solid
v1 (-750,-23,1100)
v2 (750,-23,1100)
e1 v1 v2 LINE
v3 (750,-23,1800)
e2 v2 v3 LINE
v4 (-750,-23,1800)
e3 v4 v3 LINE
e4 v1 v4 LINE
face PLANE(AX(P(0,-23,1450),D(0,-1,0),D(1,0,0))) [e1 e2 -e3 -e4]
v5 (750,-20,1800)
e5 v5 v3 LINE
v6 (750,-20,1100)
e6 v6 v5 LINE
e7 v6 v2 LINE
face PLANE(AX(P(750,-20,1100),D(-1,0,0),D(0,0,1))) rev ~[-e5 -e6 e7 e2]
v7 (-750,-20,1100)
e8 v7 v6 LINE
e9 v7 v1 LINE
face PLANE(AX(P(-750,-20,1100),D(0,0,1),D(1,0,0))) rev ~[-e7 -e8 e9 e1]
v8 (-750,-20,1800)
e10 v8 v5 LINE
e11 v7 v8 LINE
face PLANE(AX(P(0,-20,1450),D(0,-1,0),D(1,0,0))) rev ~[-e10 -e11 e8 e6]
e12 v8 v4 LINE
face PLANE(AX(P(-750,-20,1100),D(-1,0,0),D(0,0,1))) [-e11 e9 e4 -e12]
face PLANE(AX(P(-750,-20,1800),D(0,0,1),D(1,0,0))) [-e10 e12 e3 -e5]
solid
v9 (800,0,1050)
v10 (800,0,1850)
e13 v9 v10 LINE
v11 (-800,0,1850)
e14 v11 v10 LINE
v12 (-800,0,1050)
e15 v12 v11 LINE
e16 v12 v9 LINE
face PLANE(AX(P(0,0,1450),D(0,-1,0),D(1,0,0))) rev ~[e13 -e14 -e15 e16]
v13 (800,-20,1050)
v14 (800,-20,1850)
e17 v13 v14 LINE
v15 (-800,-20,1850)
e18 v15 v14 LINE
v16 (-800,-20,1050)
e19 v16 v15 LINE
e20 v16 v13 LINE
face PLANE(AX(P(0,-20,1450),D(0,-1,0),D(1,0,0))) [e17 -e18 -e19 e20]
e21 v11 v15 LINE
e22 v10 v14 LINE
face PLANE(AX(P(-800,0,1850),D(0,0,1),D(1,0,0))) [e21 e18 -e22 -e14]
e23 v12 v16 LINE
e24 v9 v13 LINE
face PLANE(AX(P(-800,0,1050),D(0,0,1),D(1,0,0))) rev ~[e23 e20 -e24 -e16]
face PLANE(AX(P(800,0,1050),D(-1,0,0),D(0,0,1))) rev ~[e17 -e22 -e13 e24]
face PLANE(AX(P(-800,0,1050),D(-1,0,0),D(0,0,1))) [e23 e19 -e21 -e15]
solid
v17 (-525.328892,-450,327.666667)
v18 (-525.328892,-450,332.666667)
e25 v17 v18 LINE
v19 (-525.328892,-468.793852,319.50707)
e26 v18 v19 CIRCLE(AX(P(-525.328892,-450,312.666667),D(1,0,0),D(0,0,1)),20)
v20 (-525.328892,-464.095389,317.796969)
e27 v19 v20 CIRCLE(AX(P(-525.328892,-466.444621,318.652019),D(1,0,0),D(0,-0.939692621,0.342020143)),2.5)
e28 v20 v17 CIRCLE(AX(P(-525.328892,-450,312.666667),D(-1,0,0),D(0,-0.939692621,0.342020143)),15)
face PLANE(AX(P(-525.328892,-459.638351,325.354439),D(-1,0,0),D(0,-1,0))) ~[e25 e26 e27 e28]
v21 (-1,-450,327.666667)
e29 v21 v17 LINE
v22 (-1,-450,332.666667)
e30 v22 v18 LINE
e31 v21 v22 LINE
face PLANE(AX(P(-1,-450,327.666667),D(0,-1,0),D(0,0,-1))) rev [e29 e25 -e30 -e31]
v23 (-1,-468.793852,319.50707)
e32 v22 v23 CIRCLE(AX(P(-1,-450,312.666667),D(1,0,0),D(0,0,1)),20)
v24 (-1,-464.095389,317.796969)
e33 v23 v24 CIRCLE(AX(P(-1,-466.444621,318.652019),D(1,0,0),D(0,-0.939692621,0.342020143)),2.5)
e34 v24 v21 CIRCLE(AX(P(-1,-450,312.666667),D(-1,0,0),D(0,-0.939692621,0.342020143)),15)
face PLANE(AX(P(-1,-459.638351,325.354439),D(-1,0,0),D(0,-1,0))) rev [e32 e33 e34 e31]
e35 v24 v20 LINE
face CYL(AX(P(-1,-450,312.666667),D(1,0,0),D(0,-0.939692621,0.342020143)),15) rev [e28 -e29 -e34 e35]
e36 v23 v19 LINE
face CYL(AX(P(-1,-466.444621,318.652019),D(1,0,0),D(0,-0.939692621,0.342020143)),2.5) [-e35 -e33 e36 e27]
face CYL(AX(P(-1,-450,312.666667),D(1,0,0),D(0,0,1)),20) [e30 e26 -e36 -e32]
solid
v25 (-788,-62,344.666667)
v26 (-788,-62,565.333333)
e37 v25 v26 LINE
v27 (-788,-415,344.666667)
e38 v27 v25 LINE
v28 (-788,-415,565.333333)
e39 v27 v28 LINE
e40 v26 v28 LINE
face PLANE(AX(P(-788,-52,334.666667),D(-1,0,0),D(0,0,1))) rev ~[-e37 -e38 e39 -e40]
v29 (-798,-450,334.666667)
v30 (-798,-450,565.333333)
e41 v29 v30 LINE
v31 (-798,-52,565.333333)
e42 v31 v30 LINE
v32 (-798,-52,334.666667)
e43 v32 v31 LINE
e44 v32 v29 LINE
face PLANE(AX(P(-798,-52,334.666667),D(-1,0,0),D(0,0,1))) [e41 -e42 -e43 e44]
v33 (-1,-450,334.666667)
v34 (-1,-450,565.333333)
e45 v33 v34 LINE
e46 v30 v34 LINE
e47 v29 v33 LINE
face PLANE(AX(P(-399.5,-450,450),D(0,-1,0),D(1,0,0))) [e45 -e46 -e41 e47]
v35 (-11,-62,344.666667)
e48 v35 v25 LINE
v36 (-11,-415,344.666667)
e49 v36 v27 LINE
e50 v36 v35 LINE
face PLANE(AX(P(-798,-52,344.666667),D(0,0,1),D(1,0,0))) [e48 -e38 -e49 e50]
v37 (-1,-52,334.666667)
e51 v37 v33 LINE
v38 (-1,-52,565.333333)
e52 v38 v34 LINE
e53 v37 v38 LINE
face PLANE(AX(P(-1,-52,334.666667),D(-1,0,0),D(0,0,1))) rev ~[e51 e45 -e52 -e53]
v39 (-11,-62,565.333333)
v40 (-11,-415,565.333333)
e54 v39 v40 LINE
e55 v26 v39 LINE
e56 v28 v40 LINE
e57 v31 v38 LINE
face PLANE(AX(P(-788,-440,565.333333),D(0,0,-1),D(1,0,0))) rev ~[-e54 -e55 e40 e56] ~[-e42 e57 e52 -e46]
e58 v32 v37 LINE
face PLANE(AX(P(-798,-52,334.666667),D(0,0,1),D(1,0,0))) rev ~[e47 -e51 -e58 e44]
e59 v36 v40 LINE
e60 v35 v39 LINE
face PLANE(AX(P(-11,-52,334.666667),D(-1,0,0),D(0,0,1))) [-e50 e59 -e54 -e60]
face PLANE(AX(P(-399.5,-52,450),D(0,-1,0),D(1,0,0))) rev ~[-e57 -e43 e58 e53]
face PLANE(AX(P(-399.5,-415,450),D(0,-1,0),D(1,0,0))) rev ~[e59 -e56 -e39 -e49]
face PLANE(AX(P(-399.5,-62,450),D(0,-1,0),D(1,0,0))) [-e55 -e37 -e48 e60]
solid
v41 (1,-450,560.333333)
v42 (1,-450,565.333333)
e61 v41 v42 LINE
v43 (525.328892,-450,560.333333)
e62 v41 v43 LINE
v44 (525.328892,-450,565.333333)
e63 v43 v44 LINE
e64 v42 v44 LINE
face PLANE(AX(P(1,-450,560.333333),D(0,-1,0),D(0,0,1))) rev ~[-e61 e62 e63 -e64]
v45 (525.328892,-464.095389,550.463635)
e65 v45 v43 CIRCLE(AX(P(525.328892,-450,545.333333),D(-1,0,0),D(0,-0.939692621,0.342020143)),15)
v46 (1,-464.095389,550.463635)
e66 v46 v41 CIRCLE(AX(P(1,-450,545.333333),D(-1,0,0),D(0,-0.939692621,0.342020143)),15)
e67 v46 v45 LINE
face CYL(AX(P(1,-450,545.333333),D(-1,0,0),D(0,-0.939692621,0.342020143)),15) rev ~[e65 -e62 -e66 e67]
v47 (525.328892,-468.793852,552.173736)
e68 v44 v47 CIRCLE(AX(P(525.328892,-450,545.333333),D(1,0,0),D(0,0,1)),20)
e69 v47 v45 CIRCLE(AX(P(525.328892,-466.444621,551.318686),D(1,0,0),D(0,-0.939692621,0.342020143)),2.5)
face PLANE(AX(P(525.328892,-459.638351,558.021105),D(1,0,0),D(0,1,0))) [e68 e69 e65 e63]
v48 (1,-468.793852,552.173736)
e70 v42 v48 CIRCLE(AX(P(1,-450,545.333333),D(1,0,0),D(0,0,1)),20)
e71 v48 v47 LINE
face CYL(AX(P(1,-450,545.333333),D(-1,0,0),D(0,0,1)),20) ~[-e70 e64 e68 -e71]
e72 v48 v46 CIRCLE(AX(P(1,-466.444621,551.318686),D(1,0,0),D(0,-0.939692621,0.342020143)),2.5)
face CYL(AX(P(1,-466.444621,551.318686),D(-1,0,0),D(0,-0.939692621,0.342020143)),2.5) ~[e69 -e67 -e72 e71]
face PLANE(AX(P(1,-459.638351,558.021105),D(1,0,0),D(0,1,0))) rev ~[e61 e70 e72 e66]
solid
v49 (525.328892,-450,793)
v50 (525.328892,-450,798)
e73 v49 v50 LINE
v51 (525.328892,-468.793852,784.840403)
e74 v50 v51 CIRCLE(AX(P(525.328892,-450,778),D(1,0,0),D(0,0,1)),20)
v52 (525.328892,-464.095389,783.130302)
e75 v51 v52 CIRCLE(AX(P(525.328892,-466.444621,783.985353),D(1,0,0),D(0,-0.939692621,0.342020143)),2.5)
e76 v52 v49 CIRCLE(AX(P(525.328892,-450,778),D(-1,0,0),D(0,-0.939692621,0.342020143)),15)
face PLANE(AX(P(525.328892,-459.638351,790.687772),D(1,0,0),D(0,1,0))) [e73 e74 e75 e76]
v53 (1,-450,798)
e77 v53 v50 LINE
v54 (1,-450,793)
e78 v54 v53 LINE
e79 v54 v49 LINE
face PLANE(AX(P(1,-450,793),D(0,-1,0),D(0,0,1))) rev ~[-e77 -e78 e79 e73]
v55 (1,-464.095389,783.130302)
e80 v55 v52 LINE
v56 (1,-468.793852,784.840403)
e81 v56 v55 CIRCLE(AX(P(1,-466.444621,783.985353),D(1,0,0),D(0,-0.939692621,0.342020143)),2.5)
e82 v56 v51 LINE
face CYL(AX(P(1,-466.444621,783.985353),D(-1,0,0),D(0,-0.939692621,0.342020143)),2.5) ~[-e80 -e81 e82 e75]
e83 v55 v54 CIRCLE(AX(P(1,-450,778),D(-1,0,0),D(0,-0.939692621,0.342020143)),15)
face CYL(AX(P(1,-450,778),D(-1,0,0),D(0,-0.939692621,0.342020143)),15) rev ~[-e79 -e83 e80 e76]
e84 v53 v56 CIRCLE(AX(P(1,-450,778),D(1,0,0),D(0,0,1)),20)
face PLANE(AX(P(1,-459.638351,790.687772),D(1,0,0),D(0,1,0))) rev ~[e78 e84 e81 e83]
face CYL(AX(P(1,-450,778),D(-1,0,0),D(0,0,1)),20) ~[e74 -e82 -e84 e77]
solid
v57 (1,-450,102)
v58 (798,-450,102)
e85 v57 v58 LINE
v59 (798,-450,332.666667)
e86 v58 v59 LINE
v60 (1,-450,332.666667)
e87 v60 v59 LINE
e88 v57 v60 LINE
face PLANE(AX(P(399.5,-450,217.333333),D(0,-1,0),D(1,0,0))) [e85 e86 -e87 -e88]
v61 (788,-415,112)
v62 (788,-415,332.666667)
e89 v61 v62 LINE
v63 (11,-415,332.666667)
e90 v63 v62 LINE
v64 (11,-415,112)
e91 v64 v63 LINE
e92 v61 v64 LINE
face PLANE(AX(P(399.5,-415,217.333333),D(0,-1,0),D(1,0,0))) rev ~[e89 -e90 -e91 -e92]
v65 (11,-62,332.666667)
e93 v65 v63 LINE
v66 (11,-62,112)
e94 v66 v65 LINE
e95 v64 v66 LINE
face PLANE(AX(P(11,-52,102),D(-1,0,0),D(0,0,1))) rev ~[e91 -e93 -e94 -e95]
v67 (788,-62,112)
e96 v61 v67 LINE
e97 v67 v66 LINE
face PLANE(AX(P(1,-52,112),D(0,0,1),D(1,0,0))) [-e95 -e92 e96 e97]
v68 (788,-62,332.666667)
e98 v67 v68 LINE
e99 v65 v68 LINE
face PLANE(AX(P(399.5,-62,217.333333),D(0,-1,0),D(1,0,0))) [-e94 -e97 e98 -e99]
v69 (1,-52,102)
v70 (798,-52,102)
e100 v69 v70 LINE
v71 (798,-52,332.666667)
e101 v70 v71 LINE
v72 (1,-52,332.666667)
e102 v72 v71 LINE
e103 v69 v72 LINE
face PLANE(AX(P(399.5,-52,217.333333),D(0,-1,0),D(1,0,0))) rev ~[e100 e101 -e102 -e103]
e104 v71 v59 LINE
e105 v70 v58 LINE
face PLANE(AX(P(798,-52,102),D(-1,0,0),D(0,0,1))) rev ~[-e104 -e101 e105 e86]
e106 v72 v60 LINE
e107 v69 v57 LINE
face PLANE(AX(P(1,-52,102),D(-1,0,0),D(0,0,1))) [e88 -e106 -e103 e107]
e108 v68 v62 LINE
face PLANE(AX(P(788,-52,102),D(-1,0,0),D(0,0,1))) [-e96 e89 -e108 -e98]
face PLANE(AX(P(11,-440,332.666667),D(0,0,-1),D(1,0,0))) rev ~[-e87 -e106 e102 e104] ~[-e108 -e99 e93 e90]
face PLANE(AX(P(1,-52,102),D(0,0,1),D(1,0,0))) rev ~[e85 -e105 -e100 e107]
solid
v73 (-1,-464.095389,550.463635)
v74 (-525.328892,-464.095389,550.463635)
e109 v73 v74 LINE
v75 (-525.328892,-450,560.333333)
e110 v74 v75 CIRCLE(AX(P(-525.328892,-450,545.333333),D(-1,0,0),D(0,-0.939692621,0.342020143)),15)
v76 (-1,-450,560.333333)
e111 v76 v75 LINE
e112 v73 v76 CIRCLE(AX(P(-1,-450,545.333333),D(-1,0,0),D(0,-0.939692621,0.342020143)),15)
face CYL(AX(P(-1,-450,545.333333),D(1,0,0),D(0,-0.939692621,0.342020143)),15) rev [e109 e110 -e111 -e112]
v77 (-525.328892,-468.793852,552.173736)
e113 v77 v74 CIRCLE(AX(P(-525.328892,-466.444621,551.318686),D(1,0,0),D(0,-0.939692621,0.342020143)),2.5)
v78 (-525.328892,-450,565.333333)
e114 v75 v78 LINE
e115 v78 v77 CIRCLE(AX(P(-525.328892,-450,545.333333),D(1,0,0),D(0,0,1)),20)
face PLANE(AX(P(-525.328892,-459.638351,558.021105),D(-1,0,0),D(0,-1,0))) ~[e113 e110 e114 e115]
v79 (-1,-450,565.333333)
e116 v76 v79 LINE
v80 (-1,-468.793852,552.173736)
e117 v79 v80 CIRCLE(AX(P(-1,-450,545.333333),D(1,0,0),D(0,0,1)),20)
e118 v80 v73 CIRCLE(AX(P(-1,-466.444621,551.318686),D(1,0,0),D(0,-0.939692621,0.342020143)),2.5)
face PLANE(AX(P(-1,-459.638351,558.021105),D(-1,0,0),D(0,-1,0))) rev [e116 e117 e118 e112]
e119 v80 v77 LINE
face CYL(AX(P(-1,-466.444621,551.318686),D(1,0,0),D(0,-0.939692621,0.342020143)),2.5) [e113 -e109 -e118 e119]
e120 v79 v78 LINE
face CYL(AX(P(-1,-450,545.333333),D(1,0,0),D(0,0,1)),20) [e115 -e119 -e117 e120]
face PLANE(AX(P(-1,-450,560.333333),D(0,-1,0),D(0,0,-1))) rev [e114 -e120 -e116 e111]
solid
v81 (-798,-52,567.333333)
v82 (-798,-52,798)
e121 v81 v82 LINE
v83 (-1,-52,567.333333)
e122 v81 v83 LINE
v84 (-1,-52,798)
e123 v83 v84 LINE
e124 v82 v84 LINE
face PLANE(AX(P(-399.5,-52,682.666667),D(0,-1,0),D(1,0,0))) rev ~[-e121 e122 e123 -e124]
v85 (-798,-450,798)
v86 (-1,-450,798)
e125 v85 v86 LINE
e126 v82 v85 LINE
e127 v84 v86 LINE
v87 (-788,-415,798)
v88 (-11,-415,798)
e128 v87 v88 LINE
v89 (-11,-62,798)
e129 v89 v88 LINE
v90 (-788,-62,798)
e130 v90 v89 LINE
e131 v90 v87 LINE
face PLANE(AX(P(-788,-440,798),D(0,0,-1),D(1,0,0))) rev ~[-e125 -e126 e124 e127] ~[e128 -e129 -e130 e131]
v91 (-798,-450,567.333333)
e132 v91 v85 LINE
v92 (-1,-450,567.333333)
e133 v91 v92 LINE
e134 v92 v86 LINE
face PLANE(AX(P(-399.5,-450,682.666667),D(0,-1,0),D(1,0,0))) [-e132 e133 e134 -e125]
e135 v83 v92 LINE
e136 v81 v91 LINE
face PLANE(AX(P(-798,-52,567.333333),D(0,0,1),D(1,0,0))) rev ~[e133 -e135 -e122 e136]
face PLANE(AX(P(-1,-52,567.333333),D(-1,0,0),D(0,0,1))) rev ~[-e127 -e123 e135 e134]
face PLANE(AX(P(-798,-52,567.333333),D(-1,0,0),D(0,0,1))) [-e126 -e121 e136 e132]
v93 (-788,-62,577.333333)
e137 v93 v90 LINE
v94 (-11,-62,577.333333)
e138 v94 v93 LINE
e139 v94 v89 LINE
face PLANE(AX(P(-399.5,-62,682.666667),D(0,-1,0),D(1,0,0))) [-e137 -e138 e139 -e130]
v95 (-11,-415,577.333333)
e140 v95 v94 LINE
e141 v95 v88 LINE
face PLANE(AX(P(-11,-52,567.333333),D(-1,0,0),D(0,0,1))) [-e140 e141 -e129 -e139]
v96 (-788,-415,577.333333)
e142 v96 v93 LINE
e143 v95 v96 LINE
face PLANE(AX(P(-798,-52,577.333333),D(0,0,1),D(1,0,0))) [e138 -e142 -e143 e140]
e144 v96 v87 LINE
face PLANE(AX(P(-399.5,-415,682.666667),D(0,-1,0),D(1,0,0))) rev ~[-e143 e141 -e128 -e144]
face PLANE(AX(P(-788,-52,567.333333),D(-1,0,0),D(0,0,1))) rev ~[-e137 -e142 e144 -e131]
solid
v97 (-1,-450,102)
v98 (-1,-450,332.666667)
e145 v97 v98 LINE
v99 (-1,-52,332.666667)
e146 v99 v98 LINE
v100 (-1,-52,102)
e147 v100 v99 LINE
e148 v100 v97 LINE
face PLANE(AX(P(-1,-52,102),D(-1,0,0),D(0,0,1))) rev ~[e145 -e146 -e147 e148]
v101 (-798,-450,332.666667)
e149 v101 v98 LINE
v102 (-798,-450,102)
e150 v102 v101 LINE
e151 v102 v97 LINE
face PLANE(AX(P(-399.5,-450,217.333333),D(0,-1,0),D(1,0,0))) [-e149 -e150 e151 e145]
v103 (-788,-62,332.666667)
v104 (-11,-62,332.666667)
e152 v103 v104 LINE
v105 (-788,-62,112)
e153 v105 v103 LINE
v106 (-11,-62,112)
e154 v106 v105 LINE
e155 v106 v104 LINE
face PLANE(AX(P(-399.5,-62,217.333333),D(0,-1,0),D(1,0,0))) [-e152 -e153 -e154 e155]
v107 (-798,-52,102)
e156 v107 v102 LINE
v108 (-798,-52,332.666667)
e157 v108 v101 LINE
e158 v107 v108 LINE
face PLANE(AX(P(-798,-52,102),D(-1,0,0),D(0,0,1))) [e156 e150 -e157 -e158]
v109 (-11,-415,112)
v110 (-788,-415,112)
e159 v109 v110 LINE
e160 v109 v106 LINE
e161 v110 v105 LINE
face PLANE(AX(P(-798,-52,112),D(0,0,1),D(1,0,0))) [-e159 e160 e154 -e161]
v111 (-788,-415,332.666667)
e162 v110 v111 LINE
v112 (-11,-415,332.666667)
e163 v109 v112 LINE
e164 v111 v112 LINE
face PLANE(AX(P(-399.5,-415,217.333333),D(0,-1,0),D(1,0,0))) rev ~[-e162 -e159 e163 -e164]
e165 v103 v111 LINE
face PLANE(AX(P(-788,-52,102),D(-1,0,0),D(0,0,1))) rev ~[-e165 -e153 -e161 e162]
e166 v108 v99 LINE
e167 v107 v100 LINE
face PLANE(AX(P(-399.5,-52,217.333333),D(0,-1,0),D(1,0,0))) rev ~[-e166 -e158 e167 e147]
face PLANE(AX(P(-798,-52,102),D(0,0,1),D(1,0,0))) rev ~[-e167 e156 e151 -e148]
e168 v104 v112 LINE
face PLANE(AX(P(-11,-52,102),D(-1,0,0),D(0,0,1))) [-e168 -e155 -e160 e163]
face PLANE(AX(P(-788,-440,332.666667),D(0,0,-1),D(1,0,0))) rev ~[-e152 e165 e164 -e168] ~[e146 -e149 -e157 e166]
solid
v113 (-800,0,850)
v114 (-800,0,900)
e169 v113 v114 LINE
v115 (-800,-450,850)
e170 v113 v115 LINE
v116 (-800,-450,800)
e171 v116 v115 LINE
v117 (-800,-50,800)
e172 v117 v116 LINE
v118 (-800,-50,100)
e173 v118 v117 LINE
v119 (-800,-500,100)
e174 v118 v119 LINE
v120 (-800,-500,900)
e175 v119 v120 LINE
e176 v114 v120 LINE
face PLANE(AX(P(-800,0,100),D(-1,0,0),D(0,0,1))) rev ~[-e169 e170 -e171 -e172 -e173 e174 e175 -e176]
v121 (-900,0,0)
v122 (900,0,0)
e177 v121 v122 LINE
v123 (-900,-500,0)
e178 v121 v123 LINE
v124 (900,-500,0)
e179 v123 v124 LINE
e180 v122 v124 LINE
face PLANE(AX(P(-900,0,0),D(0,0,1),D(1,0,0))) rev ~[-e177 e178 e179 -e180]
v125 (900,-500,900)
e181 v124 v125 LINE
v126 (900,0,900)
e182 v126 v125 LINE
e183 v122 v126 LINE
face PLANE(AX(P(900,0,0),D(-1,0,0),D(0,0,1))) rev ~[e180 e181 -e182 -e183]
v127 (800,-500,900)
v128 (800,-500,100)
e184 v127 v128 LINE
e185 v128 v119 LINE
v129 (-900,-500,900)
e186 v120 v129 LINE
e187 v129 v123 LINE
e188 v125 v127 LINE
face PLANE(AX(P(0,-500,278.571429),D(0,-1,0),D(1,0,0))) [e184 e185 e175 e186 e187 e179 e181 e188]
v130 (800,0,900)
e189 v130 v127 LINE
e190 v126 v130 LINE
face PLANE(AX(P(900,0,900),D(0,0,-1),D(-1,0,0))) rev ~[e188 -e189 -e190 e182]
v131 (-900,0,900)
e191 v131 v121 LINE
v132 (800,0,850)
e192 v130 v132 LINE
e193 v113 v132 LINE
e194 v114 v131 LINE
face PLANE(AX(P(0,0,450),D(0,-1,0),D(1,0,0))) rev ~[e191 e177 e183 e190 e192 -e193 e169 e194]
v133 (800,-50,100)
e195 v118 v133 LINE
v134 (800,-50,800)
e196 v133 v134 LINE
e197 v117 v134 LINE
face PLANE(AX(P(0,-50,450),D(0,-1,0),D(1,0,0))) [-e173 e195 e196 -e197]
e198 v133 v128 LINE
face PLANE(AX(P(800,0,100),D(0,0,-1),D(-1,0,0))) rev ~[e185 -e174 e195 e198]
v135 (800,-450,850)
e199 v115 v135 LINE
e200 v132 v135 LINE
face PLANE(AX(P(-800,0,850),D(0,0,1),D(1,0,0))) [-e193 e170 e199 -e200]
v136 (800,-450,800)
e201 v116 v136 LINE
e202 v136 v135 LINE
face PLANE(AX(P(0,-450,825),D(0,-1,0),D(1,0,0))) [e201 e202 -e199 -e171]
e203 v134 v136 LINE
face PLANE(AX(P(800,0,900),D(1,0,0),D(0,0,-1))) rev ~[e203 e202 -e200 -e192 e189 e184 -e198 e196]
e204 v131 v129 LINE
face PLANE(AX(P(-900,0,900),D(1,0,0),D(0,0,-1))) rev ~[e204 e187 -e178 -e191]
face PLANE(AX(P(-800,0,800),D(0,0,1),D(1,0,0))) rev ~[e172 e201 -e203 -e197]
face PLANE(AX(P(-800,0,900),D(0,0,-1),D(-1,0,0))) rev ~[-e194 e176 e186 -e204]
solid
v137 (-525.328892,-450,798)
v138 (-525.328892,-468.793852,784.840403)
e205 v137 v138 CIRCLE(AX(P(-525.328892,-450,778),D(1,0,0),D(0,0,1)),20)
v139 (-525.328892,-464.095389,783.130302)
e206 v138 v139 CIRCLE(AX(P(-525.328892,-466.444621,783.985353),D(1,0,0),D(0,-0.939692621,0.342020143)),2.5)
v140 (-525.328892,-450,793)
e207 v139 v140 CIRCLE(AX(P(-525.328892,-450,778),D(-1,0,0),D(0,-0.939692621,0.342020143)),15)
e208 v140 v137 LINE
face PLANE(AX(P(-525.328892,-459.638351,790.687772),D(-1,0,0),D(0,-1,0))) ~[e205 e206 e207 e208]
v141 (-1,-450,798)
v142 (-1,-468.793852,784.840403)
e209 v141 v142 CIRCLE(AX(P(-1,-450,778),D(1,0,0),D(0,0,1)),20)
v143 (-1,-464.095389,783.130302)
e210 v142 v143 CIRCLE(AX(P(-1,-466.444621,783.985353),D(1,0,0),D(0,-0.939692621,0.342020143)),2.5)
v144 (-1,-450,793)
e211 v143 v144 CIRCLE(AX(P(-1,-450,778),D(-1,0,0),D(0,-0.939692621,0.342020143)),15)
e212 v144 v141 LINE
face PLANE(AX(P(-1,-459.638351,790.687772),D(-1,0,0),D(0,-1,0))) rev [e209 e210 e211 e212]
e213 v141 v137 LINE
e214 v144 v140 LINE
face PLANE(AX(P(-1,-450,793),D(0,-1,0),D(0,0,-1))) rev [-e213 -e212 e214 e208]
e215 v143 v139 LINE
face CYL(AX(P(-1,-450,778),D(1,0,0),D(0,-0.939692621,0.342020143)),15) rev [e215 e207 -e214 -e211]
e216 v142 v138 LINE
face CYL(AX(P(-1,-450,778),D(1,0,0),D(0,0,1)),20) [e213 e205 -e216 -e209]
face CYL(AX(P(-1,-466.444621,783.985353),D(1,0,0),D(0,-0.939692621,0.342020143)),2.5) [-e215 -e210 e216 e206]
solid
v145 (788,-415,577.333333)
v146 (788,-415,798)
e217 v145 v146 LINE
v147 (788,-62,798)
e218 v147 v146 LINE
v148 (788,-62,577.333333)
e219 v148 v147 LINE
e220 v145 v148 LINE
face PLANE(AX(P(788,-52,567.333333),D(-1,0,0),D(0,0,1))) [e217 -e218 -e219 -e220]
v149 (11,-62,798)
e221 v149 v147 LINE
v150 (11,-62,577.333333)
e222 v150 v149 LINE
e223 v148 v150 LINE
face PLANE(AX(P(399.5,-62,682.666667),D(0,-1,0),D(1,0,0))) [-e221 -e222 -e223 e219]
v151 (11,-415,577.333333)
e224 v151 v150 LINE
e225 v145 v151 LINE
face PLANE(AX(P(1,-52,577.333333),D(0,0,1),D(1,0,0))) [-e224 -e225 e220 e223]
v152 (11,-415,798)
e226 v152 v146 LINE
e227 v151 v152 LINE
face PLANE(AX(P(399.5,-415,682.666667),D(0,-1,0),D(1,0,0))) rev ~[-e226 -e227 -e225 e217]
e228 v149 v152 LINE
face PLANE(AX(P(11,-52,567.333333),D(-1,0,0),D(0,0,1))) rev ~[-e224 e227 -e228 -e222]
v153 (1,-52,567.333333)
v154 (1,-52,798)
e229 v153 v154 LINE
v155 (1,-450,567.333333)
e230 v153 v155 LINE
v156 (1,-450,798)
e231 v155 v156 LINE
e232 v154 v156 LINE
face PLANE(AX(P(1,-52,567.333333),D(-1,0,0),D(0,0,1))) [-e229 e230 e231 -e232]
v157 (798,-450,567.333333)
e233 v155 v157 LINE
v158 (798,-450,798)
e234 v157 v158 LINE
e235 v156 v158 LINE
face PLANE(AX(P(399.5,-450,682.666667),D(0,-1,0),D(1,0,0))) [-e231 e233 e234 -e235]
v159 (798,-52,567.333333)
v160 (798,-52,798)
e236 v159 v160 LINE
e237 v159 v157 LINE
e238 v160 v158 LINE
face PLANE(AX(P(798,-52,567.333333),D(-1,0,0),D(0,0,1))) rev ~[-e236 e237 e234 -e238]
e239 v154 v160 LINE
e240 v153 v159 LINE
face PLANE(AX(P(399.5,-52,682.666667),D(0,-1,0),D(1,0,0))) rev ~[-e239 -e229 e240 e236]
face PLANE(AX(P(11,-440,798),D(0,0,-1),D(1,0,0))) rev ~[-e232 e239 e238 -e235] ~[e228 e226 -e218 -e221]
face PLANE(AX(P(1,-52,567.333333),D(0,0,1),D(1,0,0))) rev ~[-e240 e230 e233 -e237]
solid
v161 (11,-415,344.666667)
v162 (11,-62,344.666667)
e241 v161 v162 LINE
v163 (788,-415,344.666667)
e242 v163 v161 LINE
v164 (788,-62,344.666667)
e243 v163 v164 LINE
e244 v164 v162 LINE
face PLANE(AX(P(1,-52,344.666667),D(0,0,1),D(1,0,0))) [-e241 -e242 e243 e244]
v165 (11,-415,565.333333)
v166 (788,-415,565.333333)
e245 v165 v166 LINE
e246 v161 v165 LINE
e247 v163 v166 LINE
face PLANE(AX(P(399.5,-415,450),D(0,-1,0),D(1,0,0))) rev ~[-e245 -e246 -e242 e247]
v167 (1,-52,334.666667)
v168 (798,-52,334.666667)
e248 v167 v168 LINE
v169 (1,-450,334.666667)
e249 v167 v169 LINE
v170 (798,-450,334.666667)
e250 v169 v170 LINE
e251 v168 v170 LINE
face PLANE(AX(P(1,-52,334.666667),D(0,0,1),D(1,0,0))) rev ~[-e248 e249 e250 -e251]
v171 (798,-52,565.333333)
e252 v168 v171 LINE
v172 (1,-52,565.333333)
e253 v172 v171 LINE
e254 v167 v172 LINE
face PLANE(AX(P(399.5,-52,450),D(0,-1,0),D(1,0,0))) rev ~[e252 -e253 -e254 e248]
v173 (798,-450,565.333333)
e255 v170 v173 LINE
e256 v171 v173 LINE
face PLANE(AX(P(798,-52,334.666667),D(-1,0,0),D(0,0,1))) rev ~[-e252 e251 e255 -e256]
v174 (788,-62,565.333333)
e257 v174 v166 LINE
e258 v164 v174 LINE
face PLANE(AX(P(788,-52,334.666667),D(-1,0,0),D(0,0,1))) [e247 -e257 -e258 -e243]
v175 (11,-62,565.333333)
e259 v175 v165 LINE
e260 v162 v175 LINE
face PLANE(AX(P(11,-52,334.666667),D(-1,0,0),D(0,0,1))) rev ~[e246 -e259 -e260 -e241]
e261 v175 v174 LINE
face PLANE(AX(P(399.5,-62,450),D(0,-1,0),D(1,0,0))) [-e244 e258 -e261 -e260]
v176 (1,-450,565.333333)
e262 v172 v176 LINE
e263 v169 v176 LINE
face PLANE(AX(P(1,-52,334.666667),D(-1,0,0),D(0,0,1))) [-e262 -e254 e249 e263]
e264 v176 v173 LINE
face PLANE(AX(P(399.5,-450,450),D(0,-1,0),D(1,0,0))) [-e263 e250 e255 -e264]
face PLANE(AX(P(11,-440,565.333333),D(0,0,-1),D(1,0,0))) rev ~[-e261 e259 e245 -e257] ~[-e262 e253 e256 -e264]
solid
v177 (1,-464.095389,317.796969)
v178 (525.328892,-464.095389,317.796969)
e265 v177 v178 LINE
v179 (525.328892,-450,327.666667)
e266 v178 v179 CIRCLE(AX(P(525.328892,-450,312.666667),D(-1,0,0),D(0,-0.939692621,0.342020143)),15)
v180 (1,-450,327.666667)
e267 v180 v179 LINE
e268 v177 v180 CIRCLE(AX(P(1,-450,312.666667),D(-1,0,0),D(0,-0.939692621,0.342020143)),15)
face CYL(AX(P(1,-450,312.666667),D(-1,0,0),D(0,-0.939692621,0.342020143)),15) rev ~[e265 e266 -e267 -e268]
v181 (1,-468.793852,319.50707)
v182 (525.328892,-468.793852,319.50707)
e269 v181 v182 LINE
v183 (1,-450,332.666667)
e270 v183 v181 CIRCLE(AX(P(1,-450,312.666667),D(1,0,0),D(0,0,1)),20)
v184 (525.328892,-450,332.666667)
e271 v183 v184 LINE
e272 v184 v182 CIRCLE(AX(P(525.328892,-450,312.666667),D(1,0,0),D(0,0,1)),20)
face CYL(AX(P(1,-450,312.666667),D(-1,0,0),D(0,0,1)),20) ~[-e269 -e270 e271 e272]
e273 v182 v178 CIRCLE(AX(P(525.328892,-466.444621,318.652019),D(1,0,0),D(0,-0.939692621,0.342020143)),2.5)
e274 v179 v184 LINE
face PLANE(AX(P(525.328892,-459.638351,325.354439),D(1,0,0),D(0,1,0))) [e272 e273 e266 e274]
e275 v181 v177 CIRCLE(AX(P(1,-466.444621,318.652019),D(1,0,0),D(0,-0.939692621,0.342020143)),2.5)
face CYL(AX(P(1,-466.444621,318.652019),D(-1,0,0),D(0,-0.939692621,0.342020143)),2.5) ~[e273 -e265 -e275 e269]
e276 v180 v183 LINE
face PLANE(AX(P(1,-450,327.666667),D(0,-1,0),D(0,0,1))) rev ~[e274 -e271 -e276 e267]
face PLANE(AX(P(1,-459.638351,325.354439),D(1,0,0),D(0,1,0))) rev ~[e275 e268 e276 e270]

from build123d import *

# Parameters (mm, degrees)
F9_DEPTH  = 500
F8_W      = 1600
F8_H      = 50
F10_DEPTH = 450
F8_H_2    = 700
F8_W_2    = 797
F8_H_3    = 230.6666666667
F11_DEPTH = 50
F12_START = 52
F12_DEPTH = 398
F13_T     = -10
F13_2_T   = -10
F13_3_T   = -10
F13_4_T   = -10
F13_5_T   = -10
F13_6_T   = -10
F14_DEPTH = 25
F16_START = 1
F16_DEPTH = 524.3288918326
F8_H_4    = 800
F8_W_3    = 1500
F18_DEPTH = 20
F19_START = 20
F19_DEPTH = 3


with BuildPart() as f9:
    # F8 (on Front) → F9 (new body)
    with BuildSketch(Plane.XZ):
        Polygon((-900, 900), (-900, 0), (900, 0), (900, 900), (800, 900), (800, 850), (800, 800), (800, 100), (-800, 100), (-800, 800), (-800, 850), (-800, 900), align=None)
    extrude(amount=F9_DEPTH)

    # F8 (on Front) → F10 (join)
    with BuildSketch(Plane.XZ):
        with Locations((0, 825)):
            Rectangle(F8_W, F8_H)
    extrude(amount=F10_DEPTH)

    # F8 (on Front) → F11 (join)
    with BuildSketch(Plane.XZ):
        with Locations((0, 450)):
            Rectangle(F8_W, F8_H_2)
        with Locations((-399.5, 217.3333333333)):
            Rectangle(F8_W_2, F8_H_3, mode=Mode.SUBTRACT)
        with Locations((-399.5, 450)):
            Rectangle(F8_W_2, F8_H_3, mode=Mode.SUBTRACT)
        with Locations((-399.5, 682.6666666667)):
            Rectangle(F8_W_2, F8_H_3, mode=Mode.SUBTRACT)
        with Locations((399.5, 217.3333333333)):
            Rectangle(F8_W_2, F8_H_3, mode=Mode.SUBTRACT)
        with Locations((399.5, 450)):
            Rectangle(F8_W_2, F8_H_3, mode=Mode.SUBTRACT)
        with Locations((399.5, 682.6666666667)):
            Rectangle(F8_W_2, F8_H_3, mode=Mode.SUBTRACT)
        with Locations((-399.5, 682.6666666667)):
            Rectangle(F8_W_2, F8_H_3)
        with Locations((-399.5, 450)):
            Rectangle(F8_W_2, F8_H_3)
        with Locations((-399.5, 217.3333333333)):
            Rectangle(F8_W_2, F8_H_3)
        with Locations((399.5, 682.6666666667)):
            Rectangle(F8_W_2, F8_H_3)
        with Locations((399.5, 450)):
            Rectangle(F8_W_2, F8_H_3)
        with Locations((399.5, 217.3333333333)):
            Rectangle(F8_W_2, F8_H_3)
    extrude(amount=F11_DEPTH)


with BuildPart() as f12:
    # F8 (on Front) → F12 (new body)
    with BuildSketch(Plane.XZ.offset(F12_START)):
        with Locations((-399.5, 682.6666666667)):
            Rectangle(F8_W_2, F8_H_3)
    extrude(amount=F12_DEPTH)

    # F13#2
    f13_2_openings = [f12.faces().sort_by_distance(p)[0] for p in [
        (-399.5, -251, 798),
    ]]
    offset(amount=F13_2_T, openings=f13_2_openings)

    # F14 (add): a face of the model
    f14_faces = [f12.faces().sort_by_distance(p)[0] for p in [
        (-399.5, -440, 687.6666666667),
    ]]
    extrude(f14_faces, amount=F14_DEPTH)


with BuildPart() as f12b:
    # F8 (on Front) → F12, piece 2 (new body)
    with BuildSketch(Plane.XZ.offset(F12_START)):
        with Locations((399.5, 682.6666666667)):
            Rectangle(F8_W_2, F8_H_3)
    extrude(amount=F12_DEPTH)

    # F13
    f13_openings = [f12b.faces().sort_by_distance(p)[0] for p in [
        (399.5, -251, 798),
    ]]
    offset(amount=F13_T, openings=f13_openings)

    # F14#2 (add): a face of the model
    f14_2_faces = [f12b.faces().sort_by_distance(p)[0] for p in [
        (399.5, -440, 687.6666666667),
    ]]
    extrude(f14_2_faces, amount=F14_DEPTH)


with BuildPart() as f12c:
    # F8 (on Front) → F12, piece 3 (new body)
    with BuildSketch(Plane.XZ.offset(F12_START)):
        with Locations((-399.5, 450)):
            Rectangle(F8_W_2, F8_H_3)
    extrude(amount=F12_DEPTH)

    # F13#4
    f13_4_openings = [f12c.faces().sort_by_distance(p)[0] for p in [
        (-399.5, -251, 565.333333),
    ]]
    offset(amount=F13_4_T, openings=f13_4_openings)

    # F14#3 (add): a face of the model
    f14_3_faces = [f12c.faces().sort_by_distance(p)[0] for p in [
        (-399.5, -440, 455),
    ]]
    extrude(f14_3_faces, amount=F14_DEPTH)


with BuildPart() as f12d:
    # F8 (on Front) → F12, piece 4 (new body)
    with BuildSketch(Plane.XZ.offset(F12_START)):
        with Locations((399.5, 450)):
            Rectangle(F8_W_2, F8_H_3)
    extrude(amount=F12_DEPTH)

    # F13#3
    f13_3_openings = [f12d.faces().sort_by_distance(p)[0] for p in [
        (399.5, -251, 565.333333),
    ]]
    offset(amount=F13_3_T, openings=f13_3_openings)

    # F14#4 (add): a face of the model
    f14_4_faces = [f12d.faces().sort_by_distance(p)[0] for p in [
        (399.5, -440, 455),
    ]]
    extrude(f14_4_faces, amount=F14_DEPTH)


with BuildPart() as f12e:
    # F8 (on Front) → F12, piece 5 (new body)
    with BuildSketch(Plane.XZ.offset(F12_START)):
        with Locations((-399.5, 217.3333333333)):
            Rectangle(F8_W_2, F8_H_3)
    extrude(amount=F12_DEPTH)

    # F13#6
    f13_6_openings = [f12e.faces().sort_by_distance(p)[0] for p in [
        (-399.5, -251, 332.666667),
    ]]
    offset(amount=F13_6_T, openings=f13_6_openings)

    # F14#5 (add): a face of the model
    f14_5_faces = [f12e.faces().sort_by_distance(p)[0] for p in [
        (-399.5, -440, 222.3333333333),
    ]]
    extrude(f14_5_faces, amount=F14_DEPTH)


with BuildPart() as f12f:
    # F8 (on Front) → F12, piece 6 (new body)
    with BuildSketch(Plane.XZ.offset(F12_START)):
        with Locations((399.5, 217.3333333333)):
            Rectangle(F8_W_2, F8_H_3)
    extrude(amount=F12_DEPTH)

    # F13#5
    f13_5_openings = [f12f.faces().sort_by_distance(p)[0] for p in [
        (399.5, -251, 332.666667),
    ]]
    offset(amount=F13_5_T, openings=f13_5_openings)

    # F14#6 (add): a face of the model
    f14_6_faces = [f12f.faces().sort_by_distance(p)[0] for p in [
        (399.5, -440, 222.3333333333),
    ]]
    extrude(f14_6_faces, amount=F14_DEPTH)


with BuildPart() as f16:
    # F15 (on Right) → F16 (new body)
    with BuildSketch(Plane.YZ.offset(F16_START)):
        with BuildLine():
            Line((-450, 793), (-450, 798))
            ThreePointArc((-450, 798), (-461.471528727, 794.3830408858), (-468.7938524157, 784.8404028665))
            ThreePointArc((-468.7938524157, 784.8404028665), (-467.2996712221, 781.6361209562), (-464.0953893118, 783.1303021499))
            ThreePointArc((-464.0953893118, 783.1303021499), (-458.6036465453, 790.2872806643), (-450, 793))
        make_face()
    extrude(amount=F16_DEPTH)


with BuildPart() as f16b:
    # F15 (on Right) → F16, piece 2 (new body)
    with BuildSketch(Plane.YZ.offset(F16_START)):
        with BuildLine():
            Line((-450, 560.3333333333), (-450, 565.3333333333))
            ThreePointArc((-450, 565.3333333333), (-461.471528727, 561.7163742191), (-468.7938524157, 552.1737361998))
            ThreePointArc((-468.7938524157, 552.1737361998), (-467.2996712221, 548.9694542896), (-464.0953893118, 550.4636354832))
            ThreePointArc((-464.0953893118, 550.4636354832), (-458.6036465453, 557.6206139977), (-450, 560.3333333333))
        make_face()
    extrude(amount=F16_DEPTH)


with BuildPart() as f16c:
    # F15 (on Right) → F16, piece 3 (new body)
    with BuildSketch(Plane.YZ.offset(F16_START)):
        with BuildLine():
            Line((-450, 327.6666666667), (-450, 332.6666666667))
            ThreePointArc((-450, 332.6666666667), (-461.471528727, 329.0497075524), (-468.7938524157, 319.5070695332))
            ThreePointArc((-468.7938524157, 319.5070695332), (-467.2996712221, 316.3027876229), (-464.0953893118, 317.7969688166))
            ThreePointArc((-464.0953893118, 317.7969688166), (-458.6036465453, 324.953947331), (-450, 327.6666666667))
        make_face()
    extrude(amount=F16_DEPTH)


with BuildPart() as f17_1:
    # F17: instance of F16
    add(f16.part.mirror(Plane.YZ))


with BuildPart() as f17_2:
    # F17: instance of F16b
    add(f16b.part.mirror(Plane.YZ))


with BuildPart() as f17_3:
    # F17: instance of F16c
    add(f16c.part.mirror(Plane.YZ))


with BuildPart() as f18:
    # F8 (on Front) → F18 (new body)
    with BuildSketch(Plane.XZ):
        with Locations((0, 1450)):
            Rectangle(F8_W, F8_H_4)
        with Locations((0, 1450)):
            Rectangle(F8_W_3, F8_H_2, mode=Mode.SUBTRACT)
        with Locations((0, 1450)):
            Rectangle(F8_W_3, F8_H_2)
    extrude(amount=F18_DEPTH)


with BuildPart() as f19:
    # F8 (on Front) → F19 (new body)
    with BuildSketch(Plane.XZ.offset(F19_START)):
        with Locations((0, 1450)):
            Rectangle(F8_W_3, F8_H_2)
    extrude(amount=F19_DEPTH)


solid = Compound([f9.part, f12.part, f12b.part, f12c.part, f12d.part, f12e.part, f12f.part, f16.part, f16b.part, f16c.part, f17_1.part, f17_2.part, f17_3.part, f18.part, f19.part])
